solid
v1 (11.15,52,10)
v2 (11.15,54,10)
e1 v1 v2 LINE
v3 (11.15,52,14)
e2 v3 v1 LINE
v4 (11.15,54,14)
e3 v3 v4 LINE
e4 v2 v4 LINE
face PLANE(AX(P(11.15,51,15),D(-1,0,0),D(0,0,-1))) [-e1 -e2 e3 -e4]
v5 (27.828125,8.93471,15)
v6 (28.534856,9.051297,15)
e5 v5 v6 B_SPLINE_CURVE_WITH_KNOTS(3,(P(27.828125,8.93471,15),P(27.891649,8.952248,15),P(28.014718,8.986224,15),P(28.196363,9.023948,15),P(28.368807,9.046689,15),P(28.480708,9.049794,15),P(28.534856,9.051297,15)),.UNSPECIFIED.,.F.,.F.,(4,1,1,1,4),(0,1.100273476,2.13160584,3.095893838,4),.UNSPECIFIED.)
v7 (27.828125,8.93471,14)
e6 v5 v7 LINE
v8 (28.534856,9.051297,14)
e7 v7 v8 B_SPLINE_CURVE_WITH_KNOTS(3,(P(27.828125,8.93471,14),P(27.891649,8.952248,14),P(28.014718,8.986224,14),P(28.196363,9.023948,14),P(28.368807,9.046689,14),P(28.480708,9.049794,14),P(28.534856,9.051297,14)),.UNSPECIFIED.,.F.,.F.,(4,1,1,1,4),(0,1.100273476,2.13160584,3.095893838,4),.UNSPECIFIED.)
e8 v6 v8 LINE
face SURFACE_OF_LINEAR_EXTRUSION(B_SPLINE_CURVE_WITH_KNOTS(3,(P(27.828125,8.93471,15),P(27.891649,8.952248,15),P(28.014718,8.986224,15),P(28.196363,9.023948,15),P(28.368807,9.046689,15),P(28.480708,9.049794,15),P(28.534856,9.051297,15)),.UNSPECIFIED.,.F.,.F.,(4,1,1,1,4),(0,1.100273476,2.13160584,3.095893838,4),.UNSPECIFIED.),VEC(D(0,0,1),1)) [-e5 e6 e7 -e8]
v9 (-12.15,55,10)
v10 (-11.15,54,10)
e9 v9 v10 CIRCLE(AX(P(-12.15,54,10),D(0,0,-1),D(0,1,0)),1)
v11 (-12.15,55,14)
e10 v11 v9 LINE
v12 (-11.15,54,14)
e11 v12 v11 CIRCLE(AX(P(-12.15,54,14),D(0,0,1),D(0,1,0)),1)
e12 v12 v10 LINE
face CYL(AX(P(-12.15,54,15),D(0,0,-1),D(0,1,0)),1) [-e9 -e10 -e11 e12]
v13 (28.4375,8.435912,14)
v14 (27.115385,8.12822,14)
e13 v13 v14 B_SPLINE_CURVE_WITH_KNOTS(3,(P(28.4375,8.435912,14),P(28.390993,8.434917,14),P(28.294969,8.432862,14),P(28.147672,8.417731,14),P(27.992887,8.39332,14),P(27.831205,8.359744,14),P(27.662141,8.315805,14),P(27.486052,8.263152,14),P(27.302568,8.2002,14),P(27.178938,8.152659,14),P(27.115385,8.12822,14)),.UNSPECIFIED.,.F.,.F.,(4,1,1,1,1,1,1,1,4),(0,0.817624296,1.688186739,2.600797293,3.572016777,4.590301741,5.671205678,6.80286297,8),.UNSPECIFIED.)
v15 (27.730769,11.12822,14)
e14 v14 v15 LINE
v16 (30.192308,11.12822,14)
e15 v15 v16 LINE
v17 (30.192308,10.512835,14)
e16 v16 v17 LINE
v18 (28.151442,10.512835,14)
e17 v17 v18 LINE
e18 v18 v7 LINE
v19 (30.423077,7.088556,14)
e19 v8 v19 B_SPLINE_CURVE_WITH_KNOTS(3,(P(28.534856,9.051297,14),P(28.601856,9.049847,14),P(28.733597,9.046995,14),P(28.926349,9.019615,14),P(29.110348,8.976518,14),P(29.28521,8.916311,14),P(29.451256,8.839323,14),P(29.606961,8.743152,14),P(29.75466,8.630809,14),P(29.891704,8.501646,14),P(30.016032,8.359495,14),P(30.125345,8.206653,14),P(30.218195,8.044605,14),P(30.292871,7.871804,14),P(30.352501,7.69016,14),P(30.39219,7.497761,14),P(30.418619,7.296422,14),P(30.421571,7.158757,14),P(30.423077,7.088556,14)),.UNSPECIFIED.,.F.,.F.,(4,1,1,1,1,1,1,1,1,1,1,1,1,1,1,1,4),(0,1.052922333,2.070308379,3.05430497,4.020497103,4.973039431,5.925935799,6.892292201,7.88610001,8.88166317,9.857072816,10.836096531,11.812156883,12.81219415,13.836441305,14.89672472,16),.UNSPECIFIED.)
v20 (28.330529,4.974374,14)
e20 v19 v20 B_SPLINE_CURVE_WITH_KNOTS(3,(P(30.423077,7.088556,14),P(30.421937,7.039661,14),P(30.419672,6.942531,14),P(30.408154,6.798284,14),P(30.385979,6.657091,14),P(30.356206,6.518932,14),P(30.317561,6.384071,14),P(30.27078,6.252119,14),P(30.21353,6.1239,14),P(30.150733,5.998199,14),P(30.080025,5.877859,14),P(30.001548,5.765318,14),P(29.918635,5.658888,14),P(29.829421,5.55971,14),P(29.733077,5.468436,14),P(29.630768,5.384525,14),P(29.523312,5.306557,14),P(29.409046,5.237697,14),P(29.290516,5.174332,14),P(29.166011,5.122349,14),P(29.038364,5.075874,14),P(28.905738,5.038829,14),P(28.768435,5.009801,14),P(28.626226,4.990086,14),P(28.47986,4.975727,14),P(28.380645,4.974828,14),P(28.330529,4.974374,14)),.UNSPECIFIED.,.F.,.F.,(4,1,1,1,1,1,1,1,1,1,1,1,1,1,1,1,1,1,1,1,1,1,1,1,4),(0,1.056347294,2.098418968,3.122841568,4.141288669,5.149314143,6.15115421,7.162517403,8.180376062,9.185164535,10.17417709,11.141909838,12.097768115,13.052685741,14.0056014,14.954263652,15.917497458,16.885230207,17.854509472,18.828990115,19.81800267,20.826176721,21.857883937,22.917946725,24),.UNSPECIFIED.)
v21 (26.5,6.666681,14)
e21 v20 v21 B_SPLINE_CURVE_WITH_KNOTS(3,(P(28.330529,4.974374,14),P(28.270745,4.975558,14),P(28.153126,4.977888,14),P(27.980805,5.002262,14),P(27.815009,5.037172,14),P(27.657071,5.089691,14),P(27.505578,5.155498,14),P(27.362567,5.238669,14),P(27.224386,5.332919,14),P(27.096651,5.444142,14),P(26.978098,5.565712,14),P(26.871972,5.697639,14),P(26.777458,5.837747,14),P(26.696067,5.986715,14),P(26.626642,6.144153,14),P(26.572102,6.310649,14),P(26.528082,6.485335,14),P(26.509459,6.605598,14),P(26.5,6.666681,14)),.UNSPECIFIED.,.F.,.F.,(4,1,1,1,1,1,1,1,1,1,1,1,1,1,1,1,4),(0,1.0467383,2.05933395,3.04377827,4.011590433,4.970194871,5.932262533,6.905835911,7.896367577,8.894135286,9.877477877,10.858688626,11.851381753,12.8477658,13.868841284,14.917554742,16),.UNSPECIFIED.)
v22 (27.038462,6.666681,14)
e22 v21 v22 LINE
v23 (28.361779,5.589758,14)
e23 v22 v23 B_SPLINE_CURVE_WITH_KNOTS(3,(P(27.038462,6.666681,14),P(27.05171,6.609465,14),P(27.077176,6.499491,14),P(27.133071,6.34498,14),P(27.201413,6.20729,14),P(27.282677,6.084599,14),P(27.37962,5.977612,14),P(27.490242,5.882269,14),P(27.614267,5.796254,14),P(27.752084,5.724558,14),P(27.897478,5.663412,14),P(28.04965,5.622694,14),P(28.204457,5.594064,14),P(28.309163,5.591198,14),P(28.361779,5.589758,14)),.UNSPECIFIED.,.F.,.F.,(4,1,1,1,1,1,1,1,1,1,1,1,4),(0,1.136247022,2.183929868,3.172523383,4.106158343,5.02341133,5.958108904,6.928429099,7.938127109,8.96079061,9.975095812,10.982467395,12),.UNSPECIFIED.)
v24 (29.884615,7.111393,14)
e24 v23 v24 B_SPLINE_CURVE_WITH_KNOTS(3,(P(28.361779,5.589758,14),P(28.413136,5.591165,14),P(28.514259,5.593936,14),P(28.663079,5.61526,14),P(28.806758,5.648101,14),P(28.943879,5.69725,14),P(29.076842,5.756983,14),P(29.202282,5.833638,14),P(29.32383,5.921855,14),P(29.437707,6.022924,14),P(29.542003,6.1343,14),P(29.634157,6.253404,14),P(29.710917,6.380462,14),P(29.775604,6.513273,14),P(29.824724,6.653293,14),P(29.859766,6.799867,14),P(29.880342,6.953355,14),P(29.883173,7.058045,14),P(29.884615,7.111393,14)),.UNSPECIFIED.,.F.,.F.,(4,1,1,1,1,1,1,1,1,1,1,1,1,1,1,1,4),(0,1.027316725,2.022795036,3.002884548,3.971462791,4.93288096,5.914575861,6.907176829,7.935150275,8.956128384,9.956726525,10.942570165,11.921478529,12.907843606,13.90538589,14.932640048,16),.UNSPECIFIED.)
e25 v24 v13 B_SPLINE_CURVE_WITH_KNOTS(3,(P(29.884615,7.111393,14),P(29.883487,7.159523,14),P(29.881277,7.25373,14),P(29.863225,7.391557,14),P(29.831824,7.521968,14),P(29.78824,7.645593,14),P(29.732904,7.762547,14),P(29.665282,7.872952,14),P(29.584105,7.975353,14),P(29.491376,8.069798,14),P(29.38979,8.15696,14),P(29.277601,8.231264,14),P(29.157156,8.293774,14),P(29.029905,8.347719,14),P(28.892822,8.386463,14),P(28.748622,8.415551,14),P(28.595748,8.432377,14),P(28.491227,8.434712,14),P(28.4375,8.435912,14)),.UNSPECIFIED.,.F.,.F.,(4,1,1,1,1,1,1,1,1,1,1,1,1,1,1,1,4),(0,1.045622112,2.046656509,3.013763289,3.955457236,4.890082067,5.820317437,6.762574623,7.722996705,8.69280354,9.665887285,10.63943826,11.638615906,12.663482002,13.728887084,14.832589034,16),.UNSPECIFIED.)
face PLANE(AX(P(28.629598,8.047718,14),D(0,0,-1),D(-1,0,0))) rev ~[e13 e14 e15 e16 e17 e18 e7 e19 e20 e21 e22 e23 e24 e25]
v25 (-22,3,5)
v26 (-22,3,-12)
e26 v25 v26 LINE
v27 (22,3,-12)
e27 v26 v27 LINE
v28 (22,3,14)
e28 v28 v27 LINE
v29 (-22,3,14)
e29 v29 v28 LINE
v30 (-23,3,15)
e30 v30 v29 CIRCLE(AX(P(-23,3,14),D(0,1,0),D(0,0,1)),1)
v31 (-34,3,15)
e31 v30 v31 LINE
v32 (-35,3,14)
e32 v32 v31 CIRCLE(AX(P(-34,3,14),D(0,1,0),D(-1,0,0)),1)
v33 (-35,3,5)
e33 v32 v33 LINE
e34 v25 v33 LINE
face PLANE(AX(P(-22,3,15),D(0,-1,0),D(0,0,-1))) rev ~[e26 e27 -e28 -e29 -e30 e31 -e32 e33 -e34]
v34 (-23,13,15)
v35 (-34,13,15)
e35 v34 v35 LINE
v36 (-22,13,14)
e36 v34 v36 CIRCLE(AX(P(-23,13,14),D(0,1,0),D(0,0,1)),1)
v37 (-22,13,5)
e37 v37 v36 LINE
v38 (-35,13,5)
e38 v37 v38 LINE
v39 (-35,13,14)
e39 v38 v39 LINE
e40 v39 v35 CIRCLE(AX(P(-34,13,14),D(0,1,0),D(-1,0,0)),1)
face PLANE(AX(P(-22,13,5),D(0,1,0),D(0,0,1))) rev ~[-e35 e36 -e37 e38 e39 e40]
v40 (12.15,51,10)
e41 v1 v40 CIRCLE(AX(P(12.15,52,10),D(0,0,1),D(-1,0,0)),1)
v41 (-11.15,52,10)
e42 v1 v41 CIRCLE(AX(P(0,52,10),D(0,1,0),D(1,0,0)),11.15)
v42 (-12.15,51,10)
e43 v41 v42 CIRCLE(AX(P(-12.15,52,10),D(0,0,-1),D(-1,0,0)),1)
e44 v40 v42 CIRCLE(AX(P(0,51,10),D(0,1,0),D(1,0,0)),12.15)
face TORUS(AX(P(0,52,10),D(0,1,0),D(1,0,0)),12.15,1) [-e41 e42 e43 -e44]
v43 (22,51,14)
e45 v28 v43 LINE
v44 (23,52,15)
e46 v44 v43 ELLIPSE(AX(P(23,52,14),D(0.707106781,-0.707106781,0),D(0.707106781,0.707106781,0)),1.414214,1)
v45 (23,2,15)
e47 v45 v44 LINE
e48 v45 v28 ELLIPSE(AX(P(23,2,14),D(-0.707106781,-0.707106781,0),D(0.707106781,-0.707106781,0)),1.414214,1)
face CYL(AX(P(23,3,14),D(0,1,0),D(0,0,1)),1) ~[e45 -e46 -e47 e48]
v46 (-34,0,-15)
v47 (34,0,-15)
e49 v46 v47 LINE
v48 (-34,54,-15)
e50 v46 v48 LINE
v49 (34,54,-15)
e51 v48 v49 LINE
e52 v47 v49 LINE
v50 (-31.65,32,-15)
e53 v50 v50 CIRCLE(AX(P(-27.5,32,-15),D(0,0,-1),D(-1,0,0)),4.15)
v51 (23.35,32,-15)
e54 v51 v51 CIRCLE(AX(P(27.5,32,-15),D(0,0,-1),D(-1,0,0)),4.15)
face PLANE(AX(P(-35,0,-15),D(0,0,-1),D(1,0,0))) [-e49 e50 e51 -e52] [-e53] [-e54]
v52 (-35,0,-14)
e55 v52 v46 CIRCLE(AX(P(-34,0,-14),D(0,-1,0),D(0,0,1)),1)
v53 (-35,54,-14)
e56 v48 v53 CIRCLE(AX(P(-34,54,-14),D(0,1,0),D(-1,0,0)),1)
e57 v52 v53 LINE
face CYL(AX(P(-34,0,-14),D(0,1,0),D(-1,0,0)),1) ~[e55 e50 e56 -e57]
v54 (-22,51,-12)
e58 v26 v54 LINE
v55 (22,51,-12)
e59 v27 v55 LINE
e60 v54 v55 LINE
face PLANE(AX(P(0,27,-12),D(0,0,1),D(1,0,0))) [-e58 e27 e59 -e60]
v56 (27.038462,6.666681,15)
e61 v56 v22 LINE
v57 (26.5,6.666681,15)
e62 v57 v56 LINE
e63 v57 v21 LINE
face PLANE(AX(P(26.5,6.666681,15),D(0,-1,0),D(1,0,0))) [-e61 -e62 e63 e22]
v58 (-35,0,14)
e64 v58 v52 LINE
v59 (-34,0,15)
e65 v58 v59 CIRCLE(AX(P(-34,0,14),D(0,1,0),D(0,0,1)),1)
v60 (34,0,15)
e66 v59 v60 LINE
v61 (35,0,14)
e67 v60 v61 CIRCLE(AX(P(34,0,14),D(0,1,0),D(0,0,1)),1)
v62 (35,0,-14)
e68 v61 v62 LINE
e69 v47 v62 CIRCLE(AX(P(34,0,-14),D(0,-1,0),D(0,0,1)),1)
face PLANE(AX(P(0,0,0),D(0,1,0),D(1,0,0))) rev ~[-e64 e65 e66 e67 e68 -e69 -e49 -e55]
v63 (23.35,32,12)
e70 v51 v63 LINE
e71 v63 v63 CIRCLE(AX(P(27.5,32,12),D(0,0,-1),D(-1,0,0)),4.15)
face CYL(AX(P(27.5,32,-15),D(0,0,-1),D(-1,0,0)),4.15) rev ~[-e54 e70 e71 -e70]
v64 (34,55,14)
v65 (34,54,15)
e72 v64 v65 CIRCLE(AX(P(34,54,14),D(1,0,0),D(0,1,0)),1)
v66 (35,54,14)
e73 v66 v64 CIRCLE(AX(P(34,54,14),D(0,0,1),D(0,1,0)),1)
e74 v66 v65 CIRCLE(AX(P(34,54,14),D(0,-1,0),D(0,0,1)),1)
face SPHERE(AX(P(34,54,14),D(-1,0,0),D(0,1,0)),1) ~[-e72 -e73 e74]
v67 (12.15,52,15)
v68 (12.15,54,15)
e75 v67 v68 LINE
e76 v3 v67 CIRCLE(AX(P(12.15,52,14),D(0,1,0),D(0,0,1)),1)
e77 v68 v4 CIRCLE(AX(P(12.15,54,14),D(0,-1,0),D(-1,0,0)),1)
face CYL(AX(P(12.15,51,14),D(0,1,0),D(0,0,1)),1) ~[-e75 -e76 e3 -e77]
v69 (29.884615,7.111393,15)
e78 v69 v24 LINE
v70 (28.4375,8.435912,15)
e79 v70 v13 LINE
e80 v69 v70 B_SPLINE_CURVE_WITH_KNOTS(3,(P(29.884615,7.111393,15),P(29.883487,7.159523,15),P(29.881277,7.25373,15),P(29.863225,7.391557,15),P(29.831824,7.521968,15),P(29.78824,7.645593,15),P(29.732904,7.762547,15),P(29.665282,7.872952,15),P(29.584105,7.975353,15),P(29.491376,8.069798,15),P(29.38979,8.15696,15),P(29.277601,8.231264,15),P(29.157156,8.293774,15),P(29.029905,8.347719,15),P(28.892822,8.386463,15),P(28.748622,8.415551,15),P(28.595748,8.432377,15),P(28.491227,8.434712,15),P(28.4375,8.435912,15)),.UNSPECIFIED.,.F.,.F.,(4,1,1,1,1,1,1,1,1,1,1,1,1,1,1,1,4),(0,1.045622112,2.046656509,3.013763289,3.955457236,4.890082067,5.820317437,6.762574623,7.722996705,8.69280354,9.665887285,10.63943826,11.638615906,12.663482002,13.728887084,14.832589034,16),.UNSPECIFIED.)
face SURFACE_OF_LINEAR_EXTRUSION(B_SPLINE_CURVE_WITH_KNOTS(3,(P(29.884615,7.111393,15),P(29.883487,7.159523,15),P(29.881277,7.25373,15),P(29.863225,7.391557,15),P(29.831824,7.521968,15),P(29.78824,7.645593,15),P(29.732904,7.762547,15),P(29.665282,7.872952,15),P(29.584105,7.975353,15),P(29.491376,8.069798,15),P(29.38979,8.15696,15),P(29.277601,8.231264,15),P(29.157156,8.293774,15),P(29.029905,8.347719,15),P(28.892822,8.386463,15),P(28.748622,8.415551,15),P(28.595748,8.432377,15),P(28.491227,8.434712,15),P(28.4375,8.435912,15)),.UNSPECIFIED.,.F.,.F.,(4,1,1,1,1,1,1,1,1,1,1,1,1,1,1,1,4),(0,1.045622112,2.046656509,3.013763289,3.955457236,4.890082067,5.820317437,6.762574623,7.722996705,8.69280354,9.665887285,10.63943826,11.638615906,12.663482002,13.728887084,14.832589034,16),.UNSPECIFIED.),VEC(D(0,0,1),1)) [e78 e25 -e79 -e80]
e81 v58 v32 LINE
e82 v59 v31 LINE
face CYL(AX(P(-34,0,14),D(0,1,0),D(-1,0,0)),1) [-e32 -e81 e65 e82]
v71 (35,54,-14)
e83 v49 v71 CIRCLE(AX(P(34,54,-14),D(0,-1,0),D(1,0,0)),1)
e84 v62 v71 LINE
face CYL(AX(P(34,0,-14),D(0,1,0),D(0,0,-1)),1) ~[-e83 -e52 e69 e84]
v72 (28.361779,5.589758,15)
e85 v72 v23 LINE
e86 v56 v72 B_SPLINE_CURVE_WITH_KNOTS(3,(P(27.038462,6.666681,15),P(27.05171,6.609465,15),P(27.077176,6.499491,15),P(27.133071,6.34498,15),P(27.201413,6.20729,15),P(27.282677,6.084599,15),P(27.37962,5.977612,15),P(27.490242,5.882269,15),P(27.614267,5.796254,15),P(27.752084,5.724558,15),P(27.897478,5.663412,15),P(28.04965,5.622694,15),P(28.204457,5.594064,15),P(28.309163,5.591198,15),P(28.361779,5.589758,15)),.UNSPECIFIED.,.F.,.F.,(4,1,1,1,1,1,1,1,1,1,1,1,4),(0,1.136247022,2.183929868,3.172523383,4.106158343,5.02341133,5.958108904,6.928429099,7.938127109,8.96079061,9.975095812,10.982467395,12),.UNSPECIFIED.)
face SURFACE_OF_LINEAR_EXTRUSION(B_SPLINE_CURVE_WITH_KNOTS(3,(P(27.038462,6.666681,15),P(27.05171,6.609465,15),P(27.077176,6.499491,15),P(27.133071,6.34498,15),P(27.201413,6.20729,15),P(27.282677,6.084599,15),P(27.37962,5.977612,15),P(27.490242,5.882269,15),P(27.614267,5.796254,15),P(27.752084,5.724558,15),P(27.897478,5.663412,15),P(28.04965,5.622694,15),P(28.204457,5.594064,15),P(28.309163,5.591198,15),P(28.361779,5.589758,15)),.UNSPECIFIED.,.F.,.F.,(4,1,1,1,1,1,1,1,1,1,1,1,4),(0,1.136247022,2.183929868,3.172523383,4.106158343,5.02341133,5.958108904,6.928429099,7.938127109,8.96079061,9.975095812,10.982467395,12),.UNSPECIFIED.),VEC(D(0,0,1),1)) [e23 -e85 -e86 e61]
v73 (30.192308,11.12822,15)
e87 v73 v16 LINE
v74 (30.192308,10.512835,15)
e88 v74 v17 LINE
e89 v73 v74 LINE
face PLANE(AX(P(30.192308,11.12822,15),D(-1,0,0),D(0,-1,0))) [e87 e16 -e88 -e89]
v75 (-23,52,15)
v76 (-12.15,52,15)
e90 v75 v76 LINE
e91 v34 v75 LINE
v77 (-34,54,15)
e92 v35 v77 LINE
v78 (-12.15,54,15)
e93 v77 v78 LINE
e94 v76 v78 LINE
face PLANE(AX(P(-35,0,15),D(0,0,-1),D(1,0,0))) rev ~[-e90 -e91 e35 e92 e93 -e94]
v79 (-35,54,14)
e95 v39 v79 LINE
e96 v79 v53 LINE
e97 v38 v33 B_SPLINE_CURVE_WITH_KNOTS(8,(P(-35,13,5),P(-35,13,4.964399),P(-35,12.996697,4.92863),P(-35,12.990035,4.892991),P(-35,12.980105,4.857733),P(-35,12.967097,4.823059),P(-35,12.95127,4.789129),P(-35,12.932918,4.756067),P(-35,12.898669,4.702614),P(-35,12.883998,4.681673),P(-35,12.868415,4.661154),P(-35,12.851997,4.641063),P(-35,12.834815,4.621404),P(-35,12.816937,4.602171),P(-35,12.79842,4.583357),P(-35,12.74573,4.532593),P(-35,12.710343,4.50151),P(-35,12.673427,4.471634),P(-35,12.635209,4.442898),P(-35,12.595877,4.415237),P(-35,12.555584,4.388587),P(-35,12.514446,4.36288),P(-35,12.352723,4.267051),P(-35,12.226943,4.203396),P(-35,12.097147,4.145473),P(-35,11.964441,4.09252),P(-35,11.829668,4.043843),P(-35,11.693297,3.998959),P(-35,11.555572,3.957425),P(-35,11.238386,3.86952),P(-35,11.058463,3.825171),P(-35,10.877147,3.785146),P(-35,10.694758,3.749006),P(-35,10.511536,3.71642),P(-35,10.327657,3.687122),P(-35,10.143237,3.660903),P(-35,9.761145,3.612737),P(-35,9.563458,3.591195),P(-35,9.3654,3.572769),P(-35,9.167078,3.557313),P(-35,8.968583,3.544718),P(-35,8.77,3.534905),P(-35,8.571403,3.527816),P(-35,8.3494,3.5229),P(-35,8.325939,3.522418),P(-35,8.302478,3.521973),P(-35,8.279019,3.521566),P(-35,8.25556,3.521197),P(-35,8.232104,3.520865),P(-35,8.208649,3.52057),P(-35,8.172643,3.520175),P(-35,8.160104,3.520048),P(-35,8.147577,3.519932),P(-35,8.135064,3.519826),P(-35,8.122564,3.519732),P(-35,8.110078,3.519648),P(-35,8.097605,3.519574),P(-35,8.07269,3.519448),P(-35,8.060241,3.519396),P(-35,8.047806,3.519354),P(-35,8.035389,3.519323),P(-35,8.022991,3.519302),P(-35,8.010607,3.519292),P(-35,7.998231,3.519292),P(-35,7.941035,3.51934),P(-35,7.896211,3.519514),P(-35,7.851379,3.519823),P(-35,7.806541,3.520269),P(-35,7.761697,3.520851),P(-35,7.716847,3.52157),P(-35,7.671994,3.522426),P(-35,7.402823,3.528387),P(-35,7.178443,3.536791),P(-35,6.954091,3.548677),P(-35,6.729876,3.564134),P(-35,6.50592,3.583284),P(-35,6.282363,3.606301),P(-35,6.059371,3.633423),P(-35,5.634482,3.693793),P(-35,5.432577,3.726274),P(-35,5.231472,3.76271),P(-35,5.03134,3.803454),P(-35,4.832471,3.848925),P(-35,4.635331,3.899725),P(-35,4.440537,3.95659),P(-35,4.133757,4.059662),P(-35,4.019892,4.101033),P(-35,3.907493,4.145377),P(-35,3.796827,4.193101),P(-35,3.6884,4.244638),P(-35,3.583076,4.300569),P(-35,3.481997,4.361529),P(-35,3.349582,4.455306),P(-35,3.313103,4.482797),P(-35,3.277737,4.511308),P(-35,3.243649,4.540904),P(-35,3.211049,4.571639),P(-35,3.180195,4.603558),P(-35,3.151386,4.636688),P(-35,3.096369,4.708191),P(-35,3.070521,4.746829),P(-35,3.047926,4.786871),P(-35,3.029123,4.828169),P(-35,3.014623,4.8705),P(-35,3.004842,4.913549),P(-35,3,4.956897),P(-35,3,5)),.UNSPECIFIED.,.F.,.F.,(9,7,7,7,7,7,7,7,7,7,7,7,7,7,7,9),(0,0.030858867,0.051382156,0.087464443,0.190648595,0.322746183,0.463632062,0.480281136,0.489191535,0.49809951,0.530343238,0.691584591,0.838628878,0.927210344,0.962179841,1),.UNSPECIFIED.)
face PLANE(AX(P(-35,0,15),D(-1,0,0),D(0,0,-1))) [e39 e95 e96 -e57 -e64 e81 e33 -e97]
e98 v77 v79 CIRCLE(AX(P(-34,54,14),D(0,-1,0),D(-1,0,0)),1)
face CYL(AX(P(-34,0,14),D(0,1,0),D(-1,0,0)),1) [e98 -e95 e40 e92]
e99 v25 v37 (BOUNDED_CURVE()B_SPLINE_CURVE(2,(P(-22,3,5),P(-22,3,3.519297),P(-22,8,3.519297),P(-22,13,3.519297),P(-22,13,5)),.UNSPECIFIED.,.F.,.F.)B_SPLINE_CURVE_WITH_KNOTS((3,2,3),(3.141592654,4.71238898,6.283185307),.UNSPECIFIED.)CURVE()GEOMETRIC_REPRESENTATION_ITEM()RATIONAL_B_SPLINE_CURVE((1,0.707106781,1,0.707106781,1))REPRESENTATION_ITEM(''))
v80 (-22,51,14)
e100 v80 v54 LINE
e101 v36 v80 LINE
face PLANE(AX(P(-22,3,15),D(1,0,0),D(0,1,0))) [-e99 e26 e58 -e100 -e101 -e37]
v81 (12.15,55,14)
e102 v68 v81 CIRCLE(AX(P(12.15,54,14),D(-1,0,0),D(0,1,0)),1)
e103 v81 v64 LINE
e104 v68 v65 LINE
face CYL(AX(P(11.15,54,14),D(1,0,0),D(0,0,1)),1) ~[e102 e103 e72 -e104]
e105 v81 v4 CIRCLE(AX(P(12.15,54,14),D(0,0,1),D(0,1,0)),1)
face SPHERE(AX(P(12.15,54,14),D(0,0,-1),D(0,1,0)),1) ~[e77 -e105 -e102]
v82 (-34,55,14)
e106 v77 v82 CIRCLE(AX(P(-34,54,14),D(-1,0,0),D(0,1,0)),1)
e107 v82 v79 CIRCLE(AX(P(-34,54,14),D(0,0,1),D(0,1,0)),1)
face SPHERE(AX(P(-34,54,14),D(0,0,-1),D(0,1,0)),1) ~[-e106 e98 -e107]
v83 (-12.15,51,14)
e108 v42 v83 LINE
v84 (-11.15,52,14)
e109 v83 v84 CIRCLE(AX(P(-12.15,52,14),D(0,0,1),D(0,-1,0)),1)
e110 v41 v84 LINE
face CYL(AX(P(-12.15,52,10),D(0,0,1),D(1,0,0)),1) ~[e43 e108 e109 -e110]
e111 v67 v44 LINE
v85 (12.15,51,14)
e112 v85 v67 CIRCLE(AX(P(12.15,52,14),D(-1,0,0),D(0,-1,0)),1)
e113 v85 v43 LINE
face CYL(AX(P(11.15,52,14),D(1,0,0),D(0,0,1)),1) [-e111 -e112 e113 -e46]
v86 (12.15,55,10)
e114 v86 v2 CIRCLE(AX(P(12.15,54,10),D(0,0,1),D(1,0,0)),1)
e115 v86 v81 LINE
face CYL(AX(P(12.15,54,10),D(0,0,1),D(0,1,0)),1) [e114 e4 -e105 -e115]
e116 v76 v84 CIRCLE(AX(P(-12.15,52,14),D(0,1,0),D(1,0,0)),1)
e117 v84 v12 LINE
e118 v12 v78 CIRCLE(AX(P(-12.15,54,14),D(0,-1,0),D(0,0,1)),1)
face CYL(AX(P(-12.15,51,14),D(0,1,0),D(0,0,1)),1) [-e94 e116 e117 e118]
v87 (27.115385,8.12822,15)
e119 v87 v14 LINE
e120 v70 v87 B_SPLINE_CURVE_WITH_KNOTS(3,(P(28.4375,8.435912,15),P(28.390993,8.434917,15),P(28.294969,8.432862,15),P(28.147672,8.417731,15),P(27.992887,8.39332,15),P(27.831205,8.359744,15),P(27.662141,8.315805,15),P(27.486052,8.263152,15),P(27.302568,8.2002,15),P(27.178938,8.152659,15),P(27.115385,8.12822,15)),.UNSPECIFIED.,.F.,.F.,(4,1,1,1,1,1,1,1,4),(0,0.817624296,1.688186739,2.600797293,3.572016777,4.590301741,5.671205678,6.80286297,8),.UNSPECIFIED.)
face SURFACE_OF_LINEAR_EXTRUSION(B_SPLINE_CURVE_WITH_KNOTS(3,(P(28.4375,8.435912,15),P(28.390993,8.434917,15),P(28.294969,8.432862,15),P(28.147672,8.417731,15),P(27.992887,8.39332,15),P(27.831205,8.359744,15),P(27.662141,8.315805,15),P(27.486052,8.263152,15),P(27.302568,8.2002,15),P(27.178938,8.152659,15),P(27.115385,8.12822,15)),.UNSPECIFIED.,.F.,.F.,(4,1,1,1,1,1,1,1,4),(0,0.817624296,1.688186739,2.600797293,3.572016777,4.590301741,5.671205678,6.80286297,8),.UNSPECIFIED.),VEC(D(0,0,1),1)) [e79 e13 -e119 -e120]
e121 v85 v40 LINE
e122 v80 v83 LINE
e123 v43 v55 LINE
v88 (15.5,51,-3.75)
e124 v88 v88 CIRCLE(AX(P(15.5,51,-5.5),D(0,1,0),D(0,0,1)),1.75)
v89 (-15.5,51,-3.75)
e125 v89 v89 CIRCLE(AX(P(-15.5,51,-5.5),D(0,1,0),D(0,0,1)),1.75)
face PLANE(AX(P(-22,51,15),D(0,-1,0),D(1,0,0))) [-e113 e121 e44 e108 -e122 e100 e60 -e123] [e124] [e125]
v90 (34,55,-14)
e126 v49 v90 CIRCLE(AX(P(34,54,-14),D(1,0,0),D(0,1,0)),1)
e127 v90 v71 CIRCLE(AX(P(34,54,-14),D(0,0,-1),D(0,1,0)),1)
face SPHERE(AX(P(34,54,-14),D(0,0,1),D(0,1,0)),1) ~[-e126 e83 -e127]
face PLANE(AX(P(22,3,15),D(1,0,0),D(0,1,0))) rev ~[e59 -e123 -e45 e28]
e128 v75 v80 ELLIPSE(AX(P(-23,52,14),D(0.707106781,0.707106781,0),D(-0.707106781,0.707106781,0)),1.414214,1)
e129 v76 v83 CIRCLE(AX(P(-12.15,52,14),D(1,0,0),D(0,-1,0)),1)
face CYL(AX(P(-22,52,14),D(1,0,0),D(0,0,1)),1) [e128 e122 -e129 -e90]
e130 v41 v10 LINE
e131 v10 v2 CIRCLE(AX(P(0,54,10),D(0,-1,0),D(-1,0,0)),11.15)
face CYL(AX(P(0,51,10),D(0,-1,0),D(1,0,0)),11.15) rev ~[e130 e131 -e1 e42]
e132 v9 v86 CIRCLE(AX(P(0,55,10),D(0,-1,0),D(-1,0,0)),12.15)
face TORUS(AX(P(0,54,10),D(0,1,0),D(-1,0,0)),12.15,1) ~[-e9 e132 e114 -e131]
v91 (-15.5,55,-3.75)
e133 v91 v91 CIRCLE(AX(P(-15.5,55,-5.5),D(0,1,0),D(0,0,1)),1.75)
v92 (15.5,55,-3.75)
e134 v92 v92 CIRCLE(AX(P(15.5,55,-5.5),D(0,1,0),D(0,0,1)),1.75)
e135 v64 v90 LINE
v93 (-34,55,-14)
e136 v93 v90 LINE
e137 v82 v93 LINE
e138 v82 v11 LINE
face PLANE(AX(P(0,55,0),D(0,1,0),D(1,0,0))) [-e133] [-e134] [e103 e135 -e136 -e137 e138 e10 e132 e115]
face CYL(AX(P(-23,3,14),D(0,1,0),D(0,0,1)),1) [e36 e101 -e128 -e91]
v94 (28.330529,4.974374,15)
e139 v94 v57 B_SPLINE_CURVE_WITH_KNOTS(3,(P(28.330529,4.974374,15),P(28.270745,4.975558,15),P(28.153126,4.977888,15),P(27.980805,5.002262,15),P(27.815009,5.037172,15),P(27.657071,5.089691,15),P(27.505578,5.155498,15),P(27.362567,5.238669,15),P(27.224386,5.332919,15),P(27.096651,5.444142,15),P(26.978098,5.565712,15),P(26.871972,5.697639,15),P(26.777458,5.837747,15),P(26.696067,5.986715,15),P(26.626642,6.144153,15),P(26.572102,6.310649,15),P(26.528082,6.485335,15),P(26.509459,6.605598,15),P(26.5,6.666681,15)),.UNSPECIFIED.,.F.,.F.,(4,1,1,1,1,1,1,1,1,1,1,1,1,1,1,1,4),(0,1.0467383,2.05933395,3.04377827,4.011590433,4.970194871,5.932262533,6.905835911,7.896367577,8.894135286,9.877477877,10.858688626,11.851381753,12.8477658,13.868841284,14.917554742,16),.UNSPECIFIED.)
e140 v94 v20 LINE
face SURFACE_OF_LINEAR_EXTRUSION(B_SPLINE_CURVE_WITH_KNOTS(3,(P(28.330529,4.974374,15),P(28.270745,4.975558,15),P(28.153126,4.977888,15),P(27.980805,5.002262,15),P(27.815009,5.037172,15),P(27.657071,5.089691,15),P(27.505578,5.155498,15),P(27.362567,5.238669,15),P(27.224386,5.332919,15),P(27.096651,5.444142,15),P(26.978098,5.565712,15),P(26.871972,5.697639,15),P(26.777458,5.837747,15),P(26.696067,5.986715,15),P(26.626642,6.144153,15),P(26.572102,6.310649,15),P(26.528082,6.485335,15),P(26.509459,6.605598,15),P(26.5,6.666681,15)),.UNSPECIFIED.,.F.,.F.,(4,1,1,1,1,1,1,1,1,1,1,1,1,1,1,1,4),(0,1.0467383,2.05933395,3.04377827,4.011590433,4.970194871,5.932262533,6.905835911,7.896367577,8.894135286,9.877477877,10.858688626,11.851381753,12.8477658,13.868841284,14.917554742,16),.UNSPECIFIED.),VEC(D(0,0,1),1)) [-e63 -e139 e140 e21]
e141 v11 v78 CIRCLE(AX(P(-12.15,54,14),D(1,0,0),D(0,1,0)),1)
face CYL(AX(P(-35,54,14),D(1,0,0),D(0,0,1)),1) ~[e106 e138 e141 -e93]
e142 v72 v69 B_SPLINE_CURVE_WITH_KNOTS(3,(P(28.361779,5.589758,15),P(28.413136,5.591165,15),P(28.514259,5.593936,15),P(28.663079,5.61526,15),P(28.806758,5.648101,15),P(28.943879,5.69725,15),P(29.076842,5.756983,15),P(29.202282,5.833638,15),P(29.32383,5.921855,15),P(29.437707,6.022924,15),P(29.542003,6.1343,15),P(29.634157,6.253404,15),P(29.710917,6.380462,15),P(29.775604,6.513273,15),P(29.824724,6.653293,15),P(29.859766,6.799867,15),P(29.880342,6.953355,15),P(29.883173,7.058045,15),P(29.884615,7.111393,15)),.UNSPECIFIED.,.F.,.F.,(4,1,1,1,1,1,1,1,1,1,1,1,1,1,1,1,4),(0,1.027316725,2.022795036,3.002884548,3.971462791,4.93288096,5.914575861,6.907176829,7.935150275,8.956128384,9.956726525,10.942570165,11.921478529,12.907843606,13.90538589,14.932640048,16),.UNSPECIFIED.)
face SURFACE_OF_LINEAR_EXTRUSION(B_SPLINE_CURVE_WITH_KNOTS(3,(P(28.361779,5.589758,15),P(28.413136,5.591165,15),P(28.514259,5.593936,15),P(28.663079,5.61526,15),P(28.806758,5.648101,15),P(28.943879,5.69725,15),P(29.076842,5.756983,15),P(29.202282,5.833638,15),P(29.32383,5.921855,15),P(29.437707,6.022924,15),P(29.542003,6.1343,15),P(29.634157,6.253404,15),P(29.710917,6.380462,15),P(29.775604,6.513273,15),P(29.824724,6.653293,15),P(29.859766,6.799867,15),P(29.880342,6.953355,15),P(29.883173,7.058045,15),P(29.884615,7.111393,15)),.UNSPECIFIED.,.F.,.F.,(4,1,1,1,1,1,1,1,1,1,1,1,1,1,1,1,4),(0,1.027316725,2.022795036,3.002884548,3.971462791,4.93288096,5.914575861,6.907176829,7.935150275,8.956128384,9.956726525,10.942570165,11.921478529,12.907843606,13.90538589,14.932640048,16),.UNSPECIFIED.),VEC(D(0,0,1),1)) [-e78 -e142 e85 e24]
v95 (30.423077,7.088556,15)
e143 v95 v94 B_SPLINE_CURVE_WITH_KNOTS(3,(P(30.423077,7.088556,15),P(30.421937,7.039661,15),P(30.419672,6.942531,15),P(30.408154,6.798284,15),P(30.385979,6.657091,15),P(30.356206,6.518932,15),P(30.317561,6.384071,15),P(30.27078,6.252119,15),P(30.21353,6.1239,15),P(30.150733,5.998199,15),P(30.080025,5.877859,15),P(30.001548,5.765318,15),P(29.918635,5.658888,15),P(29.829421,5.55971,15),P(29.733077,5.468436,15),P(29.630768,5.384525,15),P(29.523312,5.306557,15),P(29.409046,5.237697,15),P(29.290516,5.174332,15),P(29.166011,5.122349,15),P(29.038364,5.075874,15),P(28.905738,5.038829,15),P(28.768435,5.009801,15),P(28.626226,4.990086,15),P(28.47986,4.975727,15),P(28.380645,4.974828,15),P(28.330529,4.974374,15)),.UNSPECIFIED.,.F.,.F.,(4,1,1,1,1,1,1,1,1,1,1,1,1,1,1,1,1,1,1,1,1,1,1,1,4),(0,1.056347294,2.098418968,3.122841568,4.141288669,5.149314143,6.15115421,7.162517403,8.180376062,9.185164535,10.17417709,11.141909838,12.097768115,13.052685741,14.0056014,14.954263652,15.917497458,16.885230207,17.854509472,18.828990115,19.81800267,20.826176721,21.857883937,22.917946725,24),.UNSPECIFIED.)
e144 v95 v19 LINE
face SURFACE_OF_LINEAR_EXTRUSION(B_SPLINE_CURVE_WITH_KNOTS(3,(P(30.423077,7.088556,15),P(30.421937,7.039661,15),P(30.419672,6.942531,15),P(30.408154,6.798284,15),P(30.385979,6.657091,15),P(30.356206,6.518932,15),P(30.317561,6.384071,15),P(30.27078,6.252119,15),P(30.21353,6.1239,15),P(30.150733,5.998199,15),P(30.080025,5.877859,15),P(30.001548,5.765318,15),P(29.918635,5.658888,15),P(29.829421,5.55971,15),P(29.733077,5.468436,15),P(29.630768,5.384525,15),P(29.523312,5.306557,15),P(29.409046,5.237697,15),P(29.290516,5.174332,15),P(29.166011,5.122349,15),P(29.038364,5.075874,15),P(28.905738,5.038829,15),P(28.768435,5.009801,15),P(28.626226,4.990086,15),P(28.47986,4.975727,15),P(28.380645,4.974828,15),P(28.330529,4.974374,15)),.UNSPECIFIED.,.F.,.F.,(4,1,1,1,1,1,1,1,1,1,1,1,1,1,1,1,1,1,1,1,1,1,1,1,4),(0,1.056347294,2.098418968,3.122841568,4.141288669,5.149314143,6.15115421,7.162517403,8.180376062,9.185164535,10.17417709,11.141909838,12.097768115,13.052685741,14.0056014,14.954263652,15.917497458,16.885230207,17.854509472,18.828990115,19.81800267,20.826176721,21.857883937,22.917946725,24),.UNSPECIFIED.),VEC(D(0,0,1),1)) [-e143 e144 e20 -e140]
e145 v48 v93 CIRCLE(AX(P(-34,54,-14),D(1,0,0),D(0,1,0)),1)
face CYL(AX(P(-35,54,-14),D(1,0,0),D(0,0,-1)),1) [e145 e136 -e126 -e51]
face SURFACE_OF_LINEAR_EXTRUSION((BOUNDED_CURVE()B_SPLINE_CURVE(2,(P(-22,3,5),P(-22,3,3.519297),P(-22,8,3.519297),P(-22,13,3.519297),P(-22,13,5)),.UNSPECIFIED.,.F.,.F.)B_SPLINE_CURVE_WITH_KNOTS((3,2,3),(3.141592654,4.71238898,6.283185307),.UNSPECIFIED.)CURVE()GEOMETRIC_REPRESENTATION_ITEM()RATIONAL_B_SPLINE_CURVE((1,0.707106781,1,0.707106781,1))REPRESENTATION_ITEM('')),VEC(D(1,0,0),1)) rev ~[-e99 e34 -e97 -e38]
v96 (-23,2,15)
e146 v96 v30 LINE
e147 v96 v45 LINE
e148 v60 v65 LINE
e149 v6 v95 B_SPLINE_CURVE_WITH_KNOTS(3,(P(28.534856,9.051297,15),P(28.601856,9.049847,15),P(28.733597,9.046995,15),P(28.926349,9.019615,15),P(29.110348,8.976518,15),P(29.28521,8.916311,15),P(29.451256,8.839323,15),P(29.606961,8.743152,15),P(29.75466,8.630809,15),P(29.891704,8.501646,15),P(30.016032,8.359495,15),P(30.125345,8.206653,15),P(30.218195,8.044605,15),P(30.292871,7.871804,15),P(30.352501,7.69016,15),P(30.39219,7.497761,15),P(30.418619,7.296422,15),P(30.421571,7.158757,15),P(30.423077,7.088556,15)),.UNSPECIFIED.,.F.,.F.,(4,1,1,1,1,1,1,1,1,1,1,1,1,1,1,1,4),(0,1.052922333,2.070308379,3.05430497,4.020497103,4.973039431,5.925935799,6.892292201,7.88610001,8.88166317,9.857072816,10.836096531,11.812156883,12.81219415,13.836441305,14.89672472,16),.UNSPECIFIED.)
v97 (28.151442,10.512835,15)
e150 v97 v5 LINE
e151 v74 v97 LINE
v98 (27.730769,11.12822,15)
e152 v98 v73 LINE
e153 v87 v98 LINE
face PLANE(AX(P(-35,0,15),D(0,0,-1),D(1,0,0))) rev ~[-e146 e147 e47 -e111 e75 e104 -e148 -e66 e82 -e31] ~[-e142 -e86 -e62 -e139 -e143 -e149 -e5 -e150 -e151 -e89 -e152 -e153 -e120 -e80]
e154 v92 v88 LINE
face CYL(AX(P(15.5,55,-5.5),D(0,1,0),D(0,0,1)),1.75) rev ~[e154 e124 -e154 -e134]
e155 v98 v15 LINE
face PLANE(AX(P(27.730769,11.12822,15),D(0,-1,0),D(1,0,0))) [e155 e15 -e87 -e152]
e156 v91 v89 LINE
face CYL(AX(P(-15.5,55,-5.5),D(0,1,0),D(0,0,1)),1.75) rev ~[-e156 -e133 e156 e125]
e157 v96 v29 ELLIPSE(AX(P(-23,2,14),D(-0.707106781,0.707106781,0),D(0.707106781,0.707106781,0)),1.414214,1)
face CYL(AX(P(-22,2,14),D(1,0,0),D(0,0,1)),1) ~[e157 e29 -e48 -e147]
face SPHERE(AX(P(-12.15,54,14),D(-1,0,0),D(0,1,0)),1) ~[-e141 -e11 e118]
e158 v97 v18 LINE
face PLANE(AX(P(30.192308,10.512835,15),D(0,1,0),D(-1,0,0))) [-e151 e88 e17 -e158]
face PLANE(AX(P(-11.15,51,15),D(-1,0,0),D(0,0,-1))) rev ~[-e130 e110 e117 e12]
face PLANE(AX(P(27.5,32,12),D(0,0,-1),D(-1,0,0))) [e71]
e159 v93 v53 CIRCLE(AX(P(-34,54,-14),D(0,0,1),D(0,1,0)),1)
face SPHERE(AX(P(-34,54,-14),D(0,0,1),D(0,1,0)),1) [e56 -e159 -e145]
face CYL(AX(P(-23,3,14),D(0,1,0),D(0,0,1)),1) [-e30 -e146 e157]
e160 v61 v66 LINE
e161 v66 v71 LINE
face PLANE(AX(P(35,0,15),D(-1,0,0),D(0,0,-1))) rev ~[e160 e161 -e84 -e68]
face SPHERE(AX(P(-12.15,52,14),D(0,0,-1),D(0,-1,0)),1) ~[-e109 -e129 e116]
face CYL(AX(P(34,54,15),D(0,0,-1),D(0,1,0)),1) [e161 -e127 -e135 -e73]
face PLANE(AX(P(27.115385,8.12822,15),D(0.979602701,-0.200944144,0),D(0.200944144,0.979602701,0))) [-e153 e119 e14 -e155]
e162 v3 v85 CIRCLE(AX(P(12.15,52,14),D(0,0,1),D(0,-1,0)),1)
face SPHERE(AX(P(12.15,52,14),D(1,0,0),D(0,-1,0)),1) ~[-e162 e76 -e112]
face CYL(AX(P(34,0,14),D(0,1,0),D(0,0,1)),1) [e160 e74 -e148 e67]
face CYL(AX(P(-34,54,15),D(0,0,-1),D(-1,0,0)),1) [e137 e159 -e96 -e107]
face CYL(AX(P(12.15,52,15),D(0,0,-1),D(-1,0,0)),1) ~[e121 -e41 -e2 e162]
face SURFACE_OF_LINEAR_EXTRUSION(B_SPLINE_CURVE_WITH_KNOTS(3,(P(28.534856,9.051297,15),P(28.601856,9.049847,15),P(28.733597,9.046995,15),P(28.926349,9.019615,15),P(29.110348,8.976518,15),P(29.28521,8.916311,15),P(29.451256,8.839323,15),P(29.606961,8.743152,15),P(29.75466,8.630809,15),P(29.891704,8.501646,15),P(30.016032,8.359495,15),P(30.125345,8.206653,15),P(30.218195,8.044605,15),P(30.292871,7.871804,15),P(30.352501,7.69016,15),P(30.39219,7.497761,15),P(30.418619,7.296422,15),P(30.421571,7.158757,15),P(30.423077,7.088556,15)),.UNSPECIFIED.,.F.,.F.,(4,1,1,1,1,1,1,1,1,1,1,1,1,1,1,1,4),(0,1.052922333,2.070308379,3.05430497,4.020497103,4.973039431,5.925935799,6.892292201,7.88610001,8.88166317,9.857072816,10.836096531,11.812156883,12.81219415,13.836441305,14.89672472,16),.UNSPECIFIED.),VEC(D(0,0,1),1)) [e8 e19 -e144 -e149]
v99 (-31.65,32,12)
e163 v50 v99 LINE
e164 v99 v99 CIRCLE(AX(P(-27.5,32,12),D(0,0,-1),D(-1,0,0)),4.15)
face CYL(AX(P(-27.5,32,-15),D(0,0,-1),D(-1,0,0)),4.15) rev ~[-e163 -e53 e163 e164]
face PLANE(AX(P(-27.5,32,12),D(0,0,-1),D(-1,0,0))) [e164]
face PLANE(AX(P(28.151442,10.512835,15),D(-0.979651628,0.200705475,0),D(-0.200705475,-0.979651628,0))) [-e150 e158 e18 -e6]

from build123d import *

# Parameters (mm, degrees)
CROQUIS1_W              = 70
CROQUIS1_H              = 30
SALIENTE_EXTRUIR1_DEPTH = 55
CROQUIS5_W              = 44
CROQUIS5_H              = 48
CORTAR_EXTRUIR3_DEPTH   = 27
CORTAR_EXTRUIR4_REACH   = 65.647
CROQUIS6_R              = 11.15
CORTAR_EXTRUIR5_START   = -4
CROQUIS7_W              = 22.3
CROQUIS7_H              = 5
CORTAR_EXTRUIR5_DEPTH   = 4
CROQUIS9_R              = 4.15
CORTAR_EXTRUIR6_DEPTH   = 27
REDONDEO1_R             = 1
CORTAR_EXTRUIR7_DEPTH   = 1
CORTAR_EXTRUIR8_REACH   = 68.895
CROQUIS11_R             = 1.75
CORTAR_EXTRUIR9_REACH   = 82.616


with BuildPart() as part:
    # Croquis1 → Saliente-Extruir1 (new body)
    with BuildSketch(Plane(origin=(0, 0, 0), x_dir=(1, 0, 0), z_dir=(0, 1, 0))):
        Rectangle(CROQUIS1_W, CROQUIS1_H)
    extrude(amount=SALIENTE_EXTRUIR1_DEPTH)

    # Croquis5 → Cortar-Extruir3 (cut)
    with BuildSketch(Plane.XY.offset(15)):
        with Locations((0, 27)):
            Rectangle(CROQUIS5_W, CROQUIS5_H)
    extrude(amount=-CORTAR_EXTRUIR3_DEPTH, mode=Mode.SUBTRACT)

    # Croquis6 → Cortar-Extruir4 (cut, up to next)
    with BuildSketch(Plane.XZ.offset(-51), mode=Mode.PRIVATE) as cortar_extruir4_sk1:
        with Locations((0, 10)):
            Circle(CROQUIS6_R)
    cortar_extruir4_tool1 = extrude(cortar_extruir4_sk1.sketch, amount=-CORTAR_EXTRUIR4_REACH, mode=Mode.PRIVATE) & part.part
    add(cortar_extruir4_tool1.solids().sort_by_distance((0, 51, 10))[0], mode=Mode.SUBTRACT)

    # Croquis7 → Cortar-Extruir5 (cut)
    with BuildSketch(Plane(origin=(0, 55, 0), x_dir=(1, 0, 0), z_dir=(0, 1, 0)).offset(CORTAR_EXTRUIR5_START)):
        with Locations((0, -12.5)):
            Rectangle(CROQUIS7_W, CROQUIS7_H)
    extrude(amount=CORTAR_EXTRUIR5_DEPTH, mode=Mode.SUBTRACT)

    # Croquis9 → Cortar-Extruir6 (cut)
    with BuildSketch(Plane(origin=(0, 0, -15), x_dir=(-1, 0, 0), z_dir=(0, 0, -1))):
        with Locations((-27.5, 32)):
            Circle(CROQUIS9_R)
        with Locations((27.5, 32)):
            Circle(CROQUIS9_R)
    extrude(amount=-CORTAR_EXTRUIR6_DEPTH, mode=Mode.SUBTRACT)

    # Redondeo1
    redondeo1_edges = [part.edges().sort_by_distance(p)[0] for p in [
        (-35, 55, 0),
        (-23.075, 55, 15),
        (-22, 27, 15),
        (0, 3, 15),
        (22, 27, 15),
        (16.575, 51, 15),
        (0, 55, -1.15),
        (23.075, 55, 15),
        (11.15, 51, 12.5),
        (35, 55, 0),
        (11.15, 55, 12.5),
        (11.15, 53, 15),
        (0, 51, -1.15),
        (-16.575, 51, 15),
        (-11.15, 51, 12.5),
        (-11.15, 55, 12.5),
        (-11.15, 53, 15),
        (0, 55, -15),
        (35, 27.5, 15),
        (-35, 27.5, 15),
        (-35, 27.5, -15),
        (35, 27.5, -15),
    ]]
    fillet(redondeo1_edges, radius=REDONDEO1_R)

    # Croquis10 → Cortar-Extruir7 (cut)
    with BuildSketch(Plane.XY.offset(15)):
        with BuildLine():
            Line((30.192307692, 11.128219757), (30.192307692, 10.512835142))
            Line((30.192307692, 10.512835142), (28.151442308, 10.512835142))
            Line((28.151442308, 10.512835142), (27.828125, 8.934710142))
            add(Edge.make_bspline(
                [(27.828125, 8.934710142), (27.891649356, 8.952247751), (28.014717749, 8.986224094), (28.196363225, 9.023948272), (28.368807002, 9.046689033), (28.480707637, 9.049794137), (28.534855769, 9.05129668)],
                knots=[0, 0, 0, 0, 1.100273476, 2.13160584, 3.095893838, 4, 4, 4, 4], degree=3))
            add(Edge.make_bspline(
                [(28.534855769, 9.05129668), (28.601856466, 9.049846505), (28.733596576, 9.046995098), (28.926349056, 9.019614784), (29.110348302, 8.976517788), (29.285209508, 8.916311179), (29.451256166, 8.839323065), (29.606960557, 8.743151739), (29.754659836, 8.630808885), (29.891704283, 8.501646008), (30.016031669, 8.359494665), (30.125344794, 8.2066526), (30.218194949, 8.044605179), (30.292870528, 7.871804136), (30.352500816, 7.690159873), (30.39218995, 7.49776116), (30.418618594, 7.296421525), (30.421571256, 7.158756548), (30.423076923, 7.088556296)],
                knots=[0, 0, 0, 0, 1.052922333, 2.070308379, 3.05430497, 4.020497103, 4.973039431, 5.925935799, 6.892292201, 7.88610001, 8.88166317, 9.857072816, 10.836096531, 11.812156883, 12.81219415, 13.836441305, 14.89672472, 16, 16, 16, 16], degree=3))
            add(Edge.make_bspline(
                [(30.423076923, 7.088556296), (30.421936794, 7.039661061), (30.419671944, 6.942531368), (30.408154365, 6.798284167), (30.385978852, 6.657090739), (30.35620561, 6.518932353), (30.317561465, 6.384070572), (30.27078023, 6.252119381), (30.213529897, 6.123900055), (30.150733254, 5.998199378), (30.080025006, 5.87785908), (30.001547565, 5.76531796), (29.918635294, 5.658887763), (29.82942149, 5.559709935), (29.733076927, 5.46843619), (29.630768413, 5.384524851), (29.523312323, 5.306556856), (29.409046193, 5.237697093), (29.290516222, 5.174332025), (29.166010707, 5.122348818), (29.038363792, 5.075873627), (28.905738291, 5.038828723), (28.768434612, 5.009801486), (28.626226426, 4.990086171), (28.479859563, 4.975726564), (28.380645256, 4.974827666), (28.330528846, 4.974373604)],
                knots=[0, 0, 0, 0, 1.056347294, 2.098418968, 3.122841568, 4.141288669, 5.149314143, 6.15115421, 7.162517403, 8.180376062, 9.185164535, 10.17417709, 11.141909838, 12.097768115, 13.052685741, 14.0056014, 14.954263652, 15.917497458, 16.885230207, 17.854509472, 18.828990115, 19.81800267, 20.826176721, 21.857883937, 22.917946725, 24, 24, 24, 24], degree=3))
            add(Edge.make_bspline(
                [(28.330528846, 4.974373604), (28.270744536, 4.975557897), (28.153125969, 4.977887855), (27.980804997, 5.002262401), (27.81500853, 5.037171972), (27.657071214, 5.089691292), (27.505577619, 5.155498083), (27.362567246, 5.238668663), (27.224385916, 5.332918555), (27.096650995, 5.444142017), (26.978097658, 5.565711758), (26.871972214, 5.697639142), (26.777457511, 5.837746757), (26.696067088, 5.986715022), (26.626641908, 6.144152503), (26.572101929, 6.310649076), (26.528081891, 6.485334797), (26.509458885, 6.605597958), (26.5, 6.666681296)],
                knots=[0, 0, 0, 0, 1.0467383, 2.05933395, 3.04377827, 4.011590433, 4.970194871, 5.932262533, 6.905835911, 7.896367577, 8.894135286, 9.877477877, 10.858688626, 11.851381753, 12.8477658, 13.868841284, 14.917554742, 16, 16, 16, 16], degree=3))
            Line((26.5, 6.666681296), (27.038461538, 6.666681296))
            add(Edge.make_bspline(
                [(27.038461538, 6.666681296), (27.051710494, 6.60946452), (27.077175722, 6.4994907), (27.133071291, 6.34497983), (27.201412792, 6.207289732), (27.28267739, 6.084599018), (27.379620299, 5.977612165), (27.490242177, 5.88226863), (27.614266845, 5.796254123), (27.75208381, 5.724557951), (27.897477661, 5.663411516), (28.049650021, 5.622694325), (28.204457472, 5.594064223), (28.309163249, 5.591198347), (28.361778846, 5.589758219)],
                knots=[0, 0, 0, 0, 1.136247022, 2.183929868, 3.172523383, 4.106158343, 5.02341133, 5.958108904, 6.928429099, 7.938127109, 8.96079061, 9.975095812, 10.982467395, 12, 12, 12, 12], degree=3))
            add(Edge.make_bspline(
                [(28.361778846, 5.589758219), (28.413136179, 5.591165267), (28.514259189, 5.593935755), (28.663078709, 5.615259776), (28.806757922, 5.648101327), (28.943879105, 5.69724965), (29.076841744, 5.756983453), (29.202282493, 5.833637869), (29.323830283, 5.921855043), (29.437707083, 6.022923552), (29.542003282, 6.134300171), (29.634156632, 6.253404274), (29.710917055, 6.380461725), (29.775604099, 6.513272844), (29.82472404, 6.653293228), (29.859765722, 6.799866671), (29.880342394, 6.953355209), (29.883172989, 7.058045454), (29.884615385, 7.111392834)],
                knots=[0, 0, 0, 0, 1.027316725, 2.022795036, 3.002884548, 3.971462791, 4.93288096, 5.914575861, 6.907176829, 7.935150275, 8.956128384, 9.956726525, 10.942570165, 11.921478529, 12.907843606, 13.90538589, 14.932640048, 16, 16, 16, 16], degree=3))
            add(Edge.make_bspline(
                [(29.884615385, 7.111392834), (29.883486563, 7.159522694), (29.881277054, 7.253730047), (29.863224648, 7.391557258), (29.831824124, 7.521968188), (29.78824033, 7.645592589), (29.732904031, 7.762547061), (29.665281781, 7.872952307), (29.584104528, 7.975353164), (29.491375576, 8.069797542), (29.389790363, 8.156960185), (29.27760109, 8.231264333), (29.157155501, 8.293773906), (29.029904759, 8.347719046), (28.892822076, 8.386463181), (28.748622134, 8.415550985), (28.595747778, 8.432377321), (28.491226598, 8.434711986), (28.4375, 8.435912065)],
                knots=[0, 0, 0, 0, 1.045622112, 2.046656509, 3.013763289, 3.955457236, 4.890082067, 5.820317437, 6.762574623, 7.722996705, 8.69280354, 9.665887285, 10.63943826, 11.638615906, 12.663482002, 13.728887084, 14.832589034, 16, 16, 16, 16], degree=3))
            add(Edge.make_bspline(
                [(28.4375, 8.435912065), (28.390993265, 8.434916766), (28.294968656, 8.432861726), (28.147672381, 8.417730588), (27.992886571, 8.393320369), (27.831204578, 8.359743945), (27.66214085, 8.315804956), (27.486052163, 8.263151527), (27.302568277, 8.200199529), (27.178937893, 8.152658591), (27.115384615, 8.128219757)],
                knots=[0, 0, 0, 0, 0.817624296, 1.688186739, 2.600797293, 3.572016777, 4.590301741, 5.671205678, 6.80286297, 8, 8, 8, 8], degree=3))
            Line((27.115384615, 8.128219757), (27.730769231, 11.128219757))
            Line((27.730769231, 11.128219757), (30.192307692, 11.128219757))
        make_face()
    extrude(amount=-CORTAR_EXTRUIR7_DEPTH, mode=Mode.SUBTRACT)

    # Croquis11 → Cortar-Extruir8 (cut, up to next)
    with BuildSketch(Plane(origin=(0, 55, 0), x_dir=(1, 0, 0), z_dir=(0, 1, 0)), mode=Mode.PRIVATE) as cortar_extruir8_sk1:
        with Locations(Location((-15.5, 5.5, 0), (0, 0, 270))):
            Circle(CROQUIS11_R)
    cortar_extruir8_tool1 = extrude(cortar_extruir8_sk1.sketch, amount=-CORTAR_EXTRUIR8_REACH, mode=Mode.PRIVATE) & part.part
    # Croquis11 → Cortar-Extruir8 (cut, up to next)
    with BuildSketch(Plane(origin=(0, 55, 0), x_dir=(1, 0, 0), z_dir=(0, 1, 0)), mode=Mode.PRIVATE) as cortar_extruir8_sk2:
        with Locations(Location((15.5, 5.5, 0), (0, 0, 270))):
            Circle(CROQUIS11_R)
    cortar_extruir8_tool2 = extrude(cortar_extruir8_sk2.sketch, amount=-CORTAR_EXTRUIR8_REACH, mode=Mode.PRIVATE) & part.part
    add(cortar_extruir8_tool1.solids().sort_by_distance((-15.5, 55, -5.5))[0], mode=Mode.SUBTRACT)
    add(cortar_extruir8_tool2.solids().sort_by_distance((15.5, 55, -5.5))[0], mode=Mode.SUBTRACT)

    # Croquis14 → Cortar-Extruir9 (cut, up to next)
    with BuildSketch(Plane(origin=(-22, 0, 0), x_dir=(0, 0, -1), z_dir=(1, 0, 0)), mode=Mode.PRIVATE) as cortar_extruir9_sk1:
        with BuildLine():
            Line((-15, 3), (-5, 3))
            add(Edge.make_bspline(
                [(-5, 3), (-3.519296534, 3), (-3.519296534, 8), (-3.519296534, 13), (-5, 13)],
                knots=[3.141592654, 3.141592654, 3.141592654, 4.71238898, 4.71238898, 6.283185307, 6.283185307, 6.283185307], degree=2, weights=[1, 0.707106781, 1, 0.707106781, 1]))
            Line((-5, 13), (-15, 13))
            Line((-15, 13), (-15, 3))
        make_face()
    cortar_extruir9_tool1 = extrude(cortar_extruir9_sk1.sketch, amount=-CORTAR_EXTRUIR9_REACH, mode=Mode.PRIVATE) & part.part
    add(cortar_extruir9_tool1.solids().sort_by_distance((-22, 8, 9.413236))[0], mode=Mode.SUBTRACT)


solid = part.part
